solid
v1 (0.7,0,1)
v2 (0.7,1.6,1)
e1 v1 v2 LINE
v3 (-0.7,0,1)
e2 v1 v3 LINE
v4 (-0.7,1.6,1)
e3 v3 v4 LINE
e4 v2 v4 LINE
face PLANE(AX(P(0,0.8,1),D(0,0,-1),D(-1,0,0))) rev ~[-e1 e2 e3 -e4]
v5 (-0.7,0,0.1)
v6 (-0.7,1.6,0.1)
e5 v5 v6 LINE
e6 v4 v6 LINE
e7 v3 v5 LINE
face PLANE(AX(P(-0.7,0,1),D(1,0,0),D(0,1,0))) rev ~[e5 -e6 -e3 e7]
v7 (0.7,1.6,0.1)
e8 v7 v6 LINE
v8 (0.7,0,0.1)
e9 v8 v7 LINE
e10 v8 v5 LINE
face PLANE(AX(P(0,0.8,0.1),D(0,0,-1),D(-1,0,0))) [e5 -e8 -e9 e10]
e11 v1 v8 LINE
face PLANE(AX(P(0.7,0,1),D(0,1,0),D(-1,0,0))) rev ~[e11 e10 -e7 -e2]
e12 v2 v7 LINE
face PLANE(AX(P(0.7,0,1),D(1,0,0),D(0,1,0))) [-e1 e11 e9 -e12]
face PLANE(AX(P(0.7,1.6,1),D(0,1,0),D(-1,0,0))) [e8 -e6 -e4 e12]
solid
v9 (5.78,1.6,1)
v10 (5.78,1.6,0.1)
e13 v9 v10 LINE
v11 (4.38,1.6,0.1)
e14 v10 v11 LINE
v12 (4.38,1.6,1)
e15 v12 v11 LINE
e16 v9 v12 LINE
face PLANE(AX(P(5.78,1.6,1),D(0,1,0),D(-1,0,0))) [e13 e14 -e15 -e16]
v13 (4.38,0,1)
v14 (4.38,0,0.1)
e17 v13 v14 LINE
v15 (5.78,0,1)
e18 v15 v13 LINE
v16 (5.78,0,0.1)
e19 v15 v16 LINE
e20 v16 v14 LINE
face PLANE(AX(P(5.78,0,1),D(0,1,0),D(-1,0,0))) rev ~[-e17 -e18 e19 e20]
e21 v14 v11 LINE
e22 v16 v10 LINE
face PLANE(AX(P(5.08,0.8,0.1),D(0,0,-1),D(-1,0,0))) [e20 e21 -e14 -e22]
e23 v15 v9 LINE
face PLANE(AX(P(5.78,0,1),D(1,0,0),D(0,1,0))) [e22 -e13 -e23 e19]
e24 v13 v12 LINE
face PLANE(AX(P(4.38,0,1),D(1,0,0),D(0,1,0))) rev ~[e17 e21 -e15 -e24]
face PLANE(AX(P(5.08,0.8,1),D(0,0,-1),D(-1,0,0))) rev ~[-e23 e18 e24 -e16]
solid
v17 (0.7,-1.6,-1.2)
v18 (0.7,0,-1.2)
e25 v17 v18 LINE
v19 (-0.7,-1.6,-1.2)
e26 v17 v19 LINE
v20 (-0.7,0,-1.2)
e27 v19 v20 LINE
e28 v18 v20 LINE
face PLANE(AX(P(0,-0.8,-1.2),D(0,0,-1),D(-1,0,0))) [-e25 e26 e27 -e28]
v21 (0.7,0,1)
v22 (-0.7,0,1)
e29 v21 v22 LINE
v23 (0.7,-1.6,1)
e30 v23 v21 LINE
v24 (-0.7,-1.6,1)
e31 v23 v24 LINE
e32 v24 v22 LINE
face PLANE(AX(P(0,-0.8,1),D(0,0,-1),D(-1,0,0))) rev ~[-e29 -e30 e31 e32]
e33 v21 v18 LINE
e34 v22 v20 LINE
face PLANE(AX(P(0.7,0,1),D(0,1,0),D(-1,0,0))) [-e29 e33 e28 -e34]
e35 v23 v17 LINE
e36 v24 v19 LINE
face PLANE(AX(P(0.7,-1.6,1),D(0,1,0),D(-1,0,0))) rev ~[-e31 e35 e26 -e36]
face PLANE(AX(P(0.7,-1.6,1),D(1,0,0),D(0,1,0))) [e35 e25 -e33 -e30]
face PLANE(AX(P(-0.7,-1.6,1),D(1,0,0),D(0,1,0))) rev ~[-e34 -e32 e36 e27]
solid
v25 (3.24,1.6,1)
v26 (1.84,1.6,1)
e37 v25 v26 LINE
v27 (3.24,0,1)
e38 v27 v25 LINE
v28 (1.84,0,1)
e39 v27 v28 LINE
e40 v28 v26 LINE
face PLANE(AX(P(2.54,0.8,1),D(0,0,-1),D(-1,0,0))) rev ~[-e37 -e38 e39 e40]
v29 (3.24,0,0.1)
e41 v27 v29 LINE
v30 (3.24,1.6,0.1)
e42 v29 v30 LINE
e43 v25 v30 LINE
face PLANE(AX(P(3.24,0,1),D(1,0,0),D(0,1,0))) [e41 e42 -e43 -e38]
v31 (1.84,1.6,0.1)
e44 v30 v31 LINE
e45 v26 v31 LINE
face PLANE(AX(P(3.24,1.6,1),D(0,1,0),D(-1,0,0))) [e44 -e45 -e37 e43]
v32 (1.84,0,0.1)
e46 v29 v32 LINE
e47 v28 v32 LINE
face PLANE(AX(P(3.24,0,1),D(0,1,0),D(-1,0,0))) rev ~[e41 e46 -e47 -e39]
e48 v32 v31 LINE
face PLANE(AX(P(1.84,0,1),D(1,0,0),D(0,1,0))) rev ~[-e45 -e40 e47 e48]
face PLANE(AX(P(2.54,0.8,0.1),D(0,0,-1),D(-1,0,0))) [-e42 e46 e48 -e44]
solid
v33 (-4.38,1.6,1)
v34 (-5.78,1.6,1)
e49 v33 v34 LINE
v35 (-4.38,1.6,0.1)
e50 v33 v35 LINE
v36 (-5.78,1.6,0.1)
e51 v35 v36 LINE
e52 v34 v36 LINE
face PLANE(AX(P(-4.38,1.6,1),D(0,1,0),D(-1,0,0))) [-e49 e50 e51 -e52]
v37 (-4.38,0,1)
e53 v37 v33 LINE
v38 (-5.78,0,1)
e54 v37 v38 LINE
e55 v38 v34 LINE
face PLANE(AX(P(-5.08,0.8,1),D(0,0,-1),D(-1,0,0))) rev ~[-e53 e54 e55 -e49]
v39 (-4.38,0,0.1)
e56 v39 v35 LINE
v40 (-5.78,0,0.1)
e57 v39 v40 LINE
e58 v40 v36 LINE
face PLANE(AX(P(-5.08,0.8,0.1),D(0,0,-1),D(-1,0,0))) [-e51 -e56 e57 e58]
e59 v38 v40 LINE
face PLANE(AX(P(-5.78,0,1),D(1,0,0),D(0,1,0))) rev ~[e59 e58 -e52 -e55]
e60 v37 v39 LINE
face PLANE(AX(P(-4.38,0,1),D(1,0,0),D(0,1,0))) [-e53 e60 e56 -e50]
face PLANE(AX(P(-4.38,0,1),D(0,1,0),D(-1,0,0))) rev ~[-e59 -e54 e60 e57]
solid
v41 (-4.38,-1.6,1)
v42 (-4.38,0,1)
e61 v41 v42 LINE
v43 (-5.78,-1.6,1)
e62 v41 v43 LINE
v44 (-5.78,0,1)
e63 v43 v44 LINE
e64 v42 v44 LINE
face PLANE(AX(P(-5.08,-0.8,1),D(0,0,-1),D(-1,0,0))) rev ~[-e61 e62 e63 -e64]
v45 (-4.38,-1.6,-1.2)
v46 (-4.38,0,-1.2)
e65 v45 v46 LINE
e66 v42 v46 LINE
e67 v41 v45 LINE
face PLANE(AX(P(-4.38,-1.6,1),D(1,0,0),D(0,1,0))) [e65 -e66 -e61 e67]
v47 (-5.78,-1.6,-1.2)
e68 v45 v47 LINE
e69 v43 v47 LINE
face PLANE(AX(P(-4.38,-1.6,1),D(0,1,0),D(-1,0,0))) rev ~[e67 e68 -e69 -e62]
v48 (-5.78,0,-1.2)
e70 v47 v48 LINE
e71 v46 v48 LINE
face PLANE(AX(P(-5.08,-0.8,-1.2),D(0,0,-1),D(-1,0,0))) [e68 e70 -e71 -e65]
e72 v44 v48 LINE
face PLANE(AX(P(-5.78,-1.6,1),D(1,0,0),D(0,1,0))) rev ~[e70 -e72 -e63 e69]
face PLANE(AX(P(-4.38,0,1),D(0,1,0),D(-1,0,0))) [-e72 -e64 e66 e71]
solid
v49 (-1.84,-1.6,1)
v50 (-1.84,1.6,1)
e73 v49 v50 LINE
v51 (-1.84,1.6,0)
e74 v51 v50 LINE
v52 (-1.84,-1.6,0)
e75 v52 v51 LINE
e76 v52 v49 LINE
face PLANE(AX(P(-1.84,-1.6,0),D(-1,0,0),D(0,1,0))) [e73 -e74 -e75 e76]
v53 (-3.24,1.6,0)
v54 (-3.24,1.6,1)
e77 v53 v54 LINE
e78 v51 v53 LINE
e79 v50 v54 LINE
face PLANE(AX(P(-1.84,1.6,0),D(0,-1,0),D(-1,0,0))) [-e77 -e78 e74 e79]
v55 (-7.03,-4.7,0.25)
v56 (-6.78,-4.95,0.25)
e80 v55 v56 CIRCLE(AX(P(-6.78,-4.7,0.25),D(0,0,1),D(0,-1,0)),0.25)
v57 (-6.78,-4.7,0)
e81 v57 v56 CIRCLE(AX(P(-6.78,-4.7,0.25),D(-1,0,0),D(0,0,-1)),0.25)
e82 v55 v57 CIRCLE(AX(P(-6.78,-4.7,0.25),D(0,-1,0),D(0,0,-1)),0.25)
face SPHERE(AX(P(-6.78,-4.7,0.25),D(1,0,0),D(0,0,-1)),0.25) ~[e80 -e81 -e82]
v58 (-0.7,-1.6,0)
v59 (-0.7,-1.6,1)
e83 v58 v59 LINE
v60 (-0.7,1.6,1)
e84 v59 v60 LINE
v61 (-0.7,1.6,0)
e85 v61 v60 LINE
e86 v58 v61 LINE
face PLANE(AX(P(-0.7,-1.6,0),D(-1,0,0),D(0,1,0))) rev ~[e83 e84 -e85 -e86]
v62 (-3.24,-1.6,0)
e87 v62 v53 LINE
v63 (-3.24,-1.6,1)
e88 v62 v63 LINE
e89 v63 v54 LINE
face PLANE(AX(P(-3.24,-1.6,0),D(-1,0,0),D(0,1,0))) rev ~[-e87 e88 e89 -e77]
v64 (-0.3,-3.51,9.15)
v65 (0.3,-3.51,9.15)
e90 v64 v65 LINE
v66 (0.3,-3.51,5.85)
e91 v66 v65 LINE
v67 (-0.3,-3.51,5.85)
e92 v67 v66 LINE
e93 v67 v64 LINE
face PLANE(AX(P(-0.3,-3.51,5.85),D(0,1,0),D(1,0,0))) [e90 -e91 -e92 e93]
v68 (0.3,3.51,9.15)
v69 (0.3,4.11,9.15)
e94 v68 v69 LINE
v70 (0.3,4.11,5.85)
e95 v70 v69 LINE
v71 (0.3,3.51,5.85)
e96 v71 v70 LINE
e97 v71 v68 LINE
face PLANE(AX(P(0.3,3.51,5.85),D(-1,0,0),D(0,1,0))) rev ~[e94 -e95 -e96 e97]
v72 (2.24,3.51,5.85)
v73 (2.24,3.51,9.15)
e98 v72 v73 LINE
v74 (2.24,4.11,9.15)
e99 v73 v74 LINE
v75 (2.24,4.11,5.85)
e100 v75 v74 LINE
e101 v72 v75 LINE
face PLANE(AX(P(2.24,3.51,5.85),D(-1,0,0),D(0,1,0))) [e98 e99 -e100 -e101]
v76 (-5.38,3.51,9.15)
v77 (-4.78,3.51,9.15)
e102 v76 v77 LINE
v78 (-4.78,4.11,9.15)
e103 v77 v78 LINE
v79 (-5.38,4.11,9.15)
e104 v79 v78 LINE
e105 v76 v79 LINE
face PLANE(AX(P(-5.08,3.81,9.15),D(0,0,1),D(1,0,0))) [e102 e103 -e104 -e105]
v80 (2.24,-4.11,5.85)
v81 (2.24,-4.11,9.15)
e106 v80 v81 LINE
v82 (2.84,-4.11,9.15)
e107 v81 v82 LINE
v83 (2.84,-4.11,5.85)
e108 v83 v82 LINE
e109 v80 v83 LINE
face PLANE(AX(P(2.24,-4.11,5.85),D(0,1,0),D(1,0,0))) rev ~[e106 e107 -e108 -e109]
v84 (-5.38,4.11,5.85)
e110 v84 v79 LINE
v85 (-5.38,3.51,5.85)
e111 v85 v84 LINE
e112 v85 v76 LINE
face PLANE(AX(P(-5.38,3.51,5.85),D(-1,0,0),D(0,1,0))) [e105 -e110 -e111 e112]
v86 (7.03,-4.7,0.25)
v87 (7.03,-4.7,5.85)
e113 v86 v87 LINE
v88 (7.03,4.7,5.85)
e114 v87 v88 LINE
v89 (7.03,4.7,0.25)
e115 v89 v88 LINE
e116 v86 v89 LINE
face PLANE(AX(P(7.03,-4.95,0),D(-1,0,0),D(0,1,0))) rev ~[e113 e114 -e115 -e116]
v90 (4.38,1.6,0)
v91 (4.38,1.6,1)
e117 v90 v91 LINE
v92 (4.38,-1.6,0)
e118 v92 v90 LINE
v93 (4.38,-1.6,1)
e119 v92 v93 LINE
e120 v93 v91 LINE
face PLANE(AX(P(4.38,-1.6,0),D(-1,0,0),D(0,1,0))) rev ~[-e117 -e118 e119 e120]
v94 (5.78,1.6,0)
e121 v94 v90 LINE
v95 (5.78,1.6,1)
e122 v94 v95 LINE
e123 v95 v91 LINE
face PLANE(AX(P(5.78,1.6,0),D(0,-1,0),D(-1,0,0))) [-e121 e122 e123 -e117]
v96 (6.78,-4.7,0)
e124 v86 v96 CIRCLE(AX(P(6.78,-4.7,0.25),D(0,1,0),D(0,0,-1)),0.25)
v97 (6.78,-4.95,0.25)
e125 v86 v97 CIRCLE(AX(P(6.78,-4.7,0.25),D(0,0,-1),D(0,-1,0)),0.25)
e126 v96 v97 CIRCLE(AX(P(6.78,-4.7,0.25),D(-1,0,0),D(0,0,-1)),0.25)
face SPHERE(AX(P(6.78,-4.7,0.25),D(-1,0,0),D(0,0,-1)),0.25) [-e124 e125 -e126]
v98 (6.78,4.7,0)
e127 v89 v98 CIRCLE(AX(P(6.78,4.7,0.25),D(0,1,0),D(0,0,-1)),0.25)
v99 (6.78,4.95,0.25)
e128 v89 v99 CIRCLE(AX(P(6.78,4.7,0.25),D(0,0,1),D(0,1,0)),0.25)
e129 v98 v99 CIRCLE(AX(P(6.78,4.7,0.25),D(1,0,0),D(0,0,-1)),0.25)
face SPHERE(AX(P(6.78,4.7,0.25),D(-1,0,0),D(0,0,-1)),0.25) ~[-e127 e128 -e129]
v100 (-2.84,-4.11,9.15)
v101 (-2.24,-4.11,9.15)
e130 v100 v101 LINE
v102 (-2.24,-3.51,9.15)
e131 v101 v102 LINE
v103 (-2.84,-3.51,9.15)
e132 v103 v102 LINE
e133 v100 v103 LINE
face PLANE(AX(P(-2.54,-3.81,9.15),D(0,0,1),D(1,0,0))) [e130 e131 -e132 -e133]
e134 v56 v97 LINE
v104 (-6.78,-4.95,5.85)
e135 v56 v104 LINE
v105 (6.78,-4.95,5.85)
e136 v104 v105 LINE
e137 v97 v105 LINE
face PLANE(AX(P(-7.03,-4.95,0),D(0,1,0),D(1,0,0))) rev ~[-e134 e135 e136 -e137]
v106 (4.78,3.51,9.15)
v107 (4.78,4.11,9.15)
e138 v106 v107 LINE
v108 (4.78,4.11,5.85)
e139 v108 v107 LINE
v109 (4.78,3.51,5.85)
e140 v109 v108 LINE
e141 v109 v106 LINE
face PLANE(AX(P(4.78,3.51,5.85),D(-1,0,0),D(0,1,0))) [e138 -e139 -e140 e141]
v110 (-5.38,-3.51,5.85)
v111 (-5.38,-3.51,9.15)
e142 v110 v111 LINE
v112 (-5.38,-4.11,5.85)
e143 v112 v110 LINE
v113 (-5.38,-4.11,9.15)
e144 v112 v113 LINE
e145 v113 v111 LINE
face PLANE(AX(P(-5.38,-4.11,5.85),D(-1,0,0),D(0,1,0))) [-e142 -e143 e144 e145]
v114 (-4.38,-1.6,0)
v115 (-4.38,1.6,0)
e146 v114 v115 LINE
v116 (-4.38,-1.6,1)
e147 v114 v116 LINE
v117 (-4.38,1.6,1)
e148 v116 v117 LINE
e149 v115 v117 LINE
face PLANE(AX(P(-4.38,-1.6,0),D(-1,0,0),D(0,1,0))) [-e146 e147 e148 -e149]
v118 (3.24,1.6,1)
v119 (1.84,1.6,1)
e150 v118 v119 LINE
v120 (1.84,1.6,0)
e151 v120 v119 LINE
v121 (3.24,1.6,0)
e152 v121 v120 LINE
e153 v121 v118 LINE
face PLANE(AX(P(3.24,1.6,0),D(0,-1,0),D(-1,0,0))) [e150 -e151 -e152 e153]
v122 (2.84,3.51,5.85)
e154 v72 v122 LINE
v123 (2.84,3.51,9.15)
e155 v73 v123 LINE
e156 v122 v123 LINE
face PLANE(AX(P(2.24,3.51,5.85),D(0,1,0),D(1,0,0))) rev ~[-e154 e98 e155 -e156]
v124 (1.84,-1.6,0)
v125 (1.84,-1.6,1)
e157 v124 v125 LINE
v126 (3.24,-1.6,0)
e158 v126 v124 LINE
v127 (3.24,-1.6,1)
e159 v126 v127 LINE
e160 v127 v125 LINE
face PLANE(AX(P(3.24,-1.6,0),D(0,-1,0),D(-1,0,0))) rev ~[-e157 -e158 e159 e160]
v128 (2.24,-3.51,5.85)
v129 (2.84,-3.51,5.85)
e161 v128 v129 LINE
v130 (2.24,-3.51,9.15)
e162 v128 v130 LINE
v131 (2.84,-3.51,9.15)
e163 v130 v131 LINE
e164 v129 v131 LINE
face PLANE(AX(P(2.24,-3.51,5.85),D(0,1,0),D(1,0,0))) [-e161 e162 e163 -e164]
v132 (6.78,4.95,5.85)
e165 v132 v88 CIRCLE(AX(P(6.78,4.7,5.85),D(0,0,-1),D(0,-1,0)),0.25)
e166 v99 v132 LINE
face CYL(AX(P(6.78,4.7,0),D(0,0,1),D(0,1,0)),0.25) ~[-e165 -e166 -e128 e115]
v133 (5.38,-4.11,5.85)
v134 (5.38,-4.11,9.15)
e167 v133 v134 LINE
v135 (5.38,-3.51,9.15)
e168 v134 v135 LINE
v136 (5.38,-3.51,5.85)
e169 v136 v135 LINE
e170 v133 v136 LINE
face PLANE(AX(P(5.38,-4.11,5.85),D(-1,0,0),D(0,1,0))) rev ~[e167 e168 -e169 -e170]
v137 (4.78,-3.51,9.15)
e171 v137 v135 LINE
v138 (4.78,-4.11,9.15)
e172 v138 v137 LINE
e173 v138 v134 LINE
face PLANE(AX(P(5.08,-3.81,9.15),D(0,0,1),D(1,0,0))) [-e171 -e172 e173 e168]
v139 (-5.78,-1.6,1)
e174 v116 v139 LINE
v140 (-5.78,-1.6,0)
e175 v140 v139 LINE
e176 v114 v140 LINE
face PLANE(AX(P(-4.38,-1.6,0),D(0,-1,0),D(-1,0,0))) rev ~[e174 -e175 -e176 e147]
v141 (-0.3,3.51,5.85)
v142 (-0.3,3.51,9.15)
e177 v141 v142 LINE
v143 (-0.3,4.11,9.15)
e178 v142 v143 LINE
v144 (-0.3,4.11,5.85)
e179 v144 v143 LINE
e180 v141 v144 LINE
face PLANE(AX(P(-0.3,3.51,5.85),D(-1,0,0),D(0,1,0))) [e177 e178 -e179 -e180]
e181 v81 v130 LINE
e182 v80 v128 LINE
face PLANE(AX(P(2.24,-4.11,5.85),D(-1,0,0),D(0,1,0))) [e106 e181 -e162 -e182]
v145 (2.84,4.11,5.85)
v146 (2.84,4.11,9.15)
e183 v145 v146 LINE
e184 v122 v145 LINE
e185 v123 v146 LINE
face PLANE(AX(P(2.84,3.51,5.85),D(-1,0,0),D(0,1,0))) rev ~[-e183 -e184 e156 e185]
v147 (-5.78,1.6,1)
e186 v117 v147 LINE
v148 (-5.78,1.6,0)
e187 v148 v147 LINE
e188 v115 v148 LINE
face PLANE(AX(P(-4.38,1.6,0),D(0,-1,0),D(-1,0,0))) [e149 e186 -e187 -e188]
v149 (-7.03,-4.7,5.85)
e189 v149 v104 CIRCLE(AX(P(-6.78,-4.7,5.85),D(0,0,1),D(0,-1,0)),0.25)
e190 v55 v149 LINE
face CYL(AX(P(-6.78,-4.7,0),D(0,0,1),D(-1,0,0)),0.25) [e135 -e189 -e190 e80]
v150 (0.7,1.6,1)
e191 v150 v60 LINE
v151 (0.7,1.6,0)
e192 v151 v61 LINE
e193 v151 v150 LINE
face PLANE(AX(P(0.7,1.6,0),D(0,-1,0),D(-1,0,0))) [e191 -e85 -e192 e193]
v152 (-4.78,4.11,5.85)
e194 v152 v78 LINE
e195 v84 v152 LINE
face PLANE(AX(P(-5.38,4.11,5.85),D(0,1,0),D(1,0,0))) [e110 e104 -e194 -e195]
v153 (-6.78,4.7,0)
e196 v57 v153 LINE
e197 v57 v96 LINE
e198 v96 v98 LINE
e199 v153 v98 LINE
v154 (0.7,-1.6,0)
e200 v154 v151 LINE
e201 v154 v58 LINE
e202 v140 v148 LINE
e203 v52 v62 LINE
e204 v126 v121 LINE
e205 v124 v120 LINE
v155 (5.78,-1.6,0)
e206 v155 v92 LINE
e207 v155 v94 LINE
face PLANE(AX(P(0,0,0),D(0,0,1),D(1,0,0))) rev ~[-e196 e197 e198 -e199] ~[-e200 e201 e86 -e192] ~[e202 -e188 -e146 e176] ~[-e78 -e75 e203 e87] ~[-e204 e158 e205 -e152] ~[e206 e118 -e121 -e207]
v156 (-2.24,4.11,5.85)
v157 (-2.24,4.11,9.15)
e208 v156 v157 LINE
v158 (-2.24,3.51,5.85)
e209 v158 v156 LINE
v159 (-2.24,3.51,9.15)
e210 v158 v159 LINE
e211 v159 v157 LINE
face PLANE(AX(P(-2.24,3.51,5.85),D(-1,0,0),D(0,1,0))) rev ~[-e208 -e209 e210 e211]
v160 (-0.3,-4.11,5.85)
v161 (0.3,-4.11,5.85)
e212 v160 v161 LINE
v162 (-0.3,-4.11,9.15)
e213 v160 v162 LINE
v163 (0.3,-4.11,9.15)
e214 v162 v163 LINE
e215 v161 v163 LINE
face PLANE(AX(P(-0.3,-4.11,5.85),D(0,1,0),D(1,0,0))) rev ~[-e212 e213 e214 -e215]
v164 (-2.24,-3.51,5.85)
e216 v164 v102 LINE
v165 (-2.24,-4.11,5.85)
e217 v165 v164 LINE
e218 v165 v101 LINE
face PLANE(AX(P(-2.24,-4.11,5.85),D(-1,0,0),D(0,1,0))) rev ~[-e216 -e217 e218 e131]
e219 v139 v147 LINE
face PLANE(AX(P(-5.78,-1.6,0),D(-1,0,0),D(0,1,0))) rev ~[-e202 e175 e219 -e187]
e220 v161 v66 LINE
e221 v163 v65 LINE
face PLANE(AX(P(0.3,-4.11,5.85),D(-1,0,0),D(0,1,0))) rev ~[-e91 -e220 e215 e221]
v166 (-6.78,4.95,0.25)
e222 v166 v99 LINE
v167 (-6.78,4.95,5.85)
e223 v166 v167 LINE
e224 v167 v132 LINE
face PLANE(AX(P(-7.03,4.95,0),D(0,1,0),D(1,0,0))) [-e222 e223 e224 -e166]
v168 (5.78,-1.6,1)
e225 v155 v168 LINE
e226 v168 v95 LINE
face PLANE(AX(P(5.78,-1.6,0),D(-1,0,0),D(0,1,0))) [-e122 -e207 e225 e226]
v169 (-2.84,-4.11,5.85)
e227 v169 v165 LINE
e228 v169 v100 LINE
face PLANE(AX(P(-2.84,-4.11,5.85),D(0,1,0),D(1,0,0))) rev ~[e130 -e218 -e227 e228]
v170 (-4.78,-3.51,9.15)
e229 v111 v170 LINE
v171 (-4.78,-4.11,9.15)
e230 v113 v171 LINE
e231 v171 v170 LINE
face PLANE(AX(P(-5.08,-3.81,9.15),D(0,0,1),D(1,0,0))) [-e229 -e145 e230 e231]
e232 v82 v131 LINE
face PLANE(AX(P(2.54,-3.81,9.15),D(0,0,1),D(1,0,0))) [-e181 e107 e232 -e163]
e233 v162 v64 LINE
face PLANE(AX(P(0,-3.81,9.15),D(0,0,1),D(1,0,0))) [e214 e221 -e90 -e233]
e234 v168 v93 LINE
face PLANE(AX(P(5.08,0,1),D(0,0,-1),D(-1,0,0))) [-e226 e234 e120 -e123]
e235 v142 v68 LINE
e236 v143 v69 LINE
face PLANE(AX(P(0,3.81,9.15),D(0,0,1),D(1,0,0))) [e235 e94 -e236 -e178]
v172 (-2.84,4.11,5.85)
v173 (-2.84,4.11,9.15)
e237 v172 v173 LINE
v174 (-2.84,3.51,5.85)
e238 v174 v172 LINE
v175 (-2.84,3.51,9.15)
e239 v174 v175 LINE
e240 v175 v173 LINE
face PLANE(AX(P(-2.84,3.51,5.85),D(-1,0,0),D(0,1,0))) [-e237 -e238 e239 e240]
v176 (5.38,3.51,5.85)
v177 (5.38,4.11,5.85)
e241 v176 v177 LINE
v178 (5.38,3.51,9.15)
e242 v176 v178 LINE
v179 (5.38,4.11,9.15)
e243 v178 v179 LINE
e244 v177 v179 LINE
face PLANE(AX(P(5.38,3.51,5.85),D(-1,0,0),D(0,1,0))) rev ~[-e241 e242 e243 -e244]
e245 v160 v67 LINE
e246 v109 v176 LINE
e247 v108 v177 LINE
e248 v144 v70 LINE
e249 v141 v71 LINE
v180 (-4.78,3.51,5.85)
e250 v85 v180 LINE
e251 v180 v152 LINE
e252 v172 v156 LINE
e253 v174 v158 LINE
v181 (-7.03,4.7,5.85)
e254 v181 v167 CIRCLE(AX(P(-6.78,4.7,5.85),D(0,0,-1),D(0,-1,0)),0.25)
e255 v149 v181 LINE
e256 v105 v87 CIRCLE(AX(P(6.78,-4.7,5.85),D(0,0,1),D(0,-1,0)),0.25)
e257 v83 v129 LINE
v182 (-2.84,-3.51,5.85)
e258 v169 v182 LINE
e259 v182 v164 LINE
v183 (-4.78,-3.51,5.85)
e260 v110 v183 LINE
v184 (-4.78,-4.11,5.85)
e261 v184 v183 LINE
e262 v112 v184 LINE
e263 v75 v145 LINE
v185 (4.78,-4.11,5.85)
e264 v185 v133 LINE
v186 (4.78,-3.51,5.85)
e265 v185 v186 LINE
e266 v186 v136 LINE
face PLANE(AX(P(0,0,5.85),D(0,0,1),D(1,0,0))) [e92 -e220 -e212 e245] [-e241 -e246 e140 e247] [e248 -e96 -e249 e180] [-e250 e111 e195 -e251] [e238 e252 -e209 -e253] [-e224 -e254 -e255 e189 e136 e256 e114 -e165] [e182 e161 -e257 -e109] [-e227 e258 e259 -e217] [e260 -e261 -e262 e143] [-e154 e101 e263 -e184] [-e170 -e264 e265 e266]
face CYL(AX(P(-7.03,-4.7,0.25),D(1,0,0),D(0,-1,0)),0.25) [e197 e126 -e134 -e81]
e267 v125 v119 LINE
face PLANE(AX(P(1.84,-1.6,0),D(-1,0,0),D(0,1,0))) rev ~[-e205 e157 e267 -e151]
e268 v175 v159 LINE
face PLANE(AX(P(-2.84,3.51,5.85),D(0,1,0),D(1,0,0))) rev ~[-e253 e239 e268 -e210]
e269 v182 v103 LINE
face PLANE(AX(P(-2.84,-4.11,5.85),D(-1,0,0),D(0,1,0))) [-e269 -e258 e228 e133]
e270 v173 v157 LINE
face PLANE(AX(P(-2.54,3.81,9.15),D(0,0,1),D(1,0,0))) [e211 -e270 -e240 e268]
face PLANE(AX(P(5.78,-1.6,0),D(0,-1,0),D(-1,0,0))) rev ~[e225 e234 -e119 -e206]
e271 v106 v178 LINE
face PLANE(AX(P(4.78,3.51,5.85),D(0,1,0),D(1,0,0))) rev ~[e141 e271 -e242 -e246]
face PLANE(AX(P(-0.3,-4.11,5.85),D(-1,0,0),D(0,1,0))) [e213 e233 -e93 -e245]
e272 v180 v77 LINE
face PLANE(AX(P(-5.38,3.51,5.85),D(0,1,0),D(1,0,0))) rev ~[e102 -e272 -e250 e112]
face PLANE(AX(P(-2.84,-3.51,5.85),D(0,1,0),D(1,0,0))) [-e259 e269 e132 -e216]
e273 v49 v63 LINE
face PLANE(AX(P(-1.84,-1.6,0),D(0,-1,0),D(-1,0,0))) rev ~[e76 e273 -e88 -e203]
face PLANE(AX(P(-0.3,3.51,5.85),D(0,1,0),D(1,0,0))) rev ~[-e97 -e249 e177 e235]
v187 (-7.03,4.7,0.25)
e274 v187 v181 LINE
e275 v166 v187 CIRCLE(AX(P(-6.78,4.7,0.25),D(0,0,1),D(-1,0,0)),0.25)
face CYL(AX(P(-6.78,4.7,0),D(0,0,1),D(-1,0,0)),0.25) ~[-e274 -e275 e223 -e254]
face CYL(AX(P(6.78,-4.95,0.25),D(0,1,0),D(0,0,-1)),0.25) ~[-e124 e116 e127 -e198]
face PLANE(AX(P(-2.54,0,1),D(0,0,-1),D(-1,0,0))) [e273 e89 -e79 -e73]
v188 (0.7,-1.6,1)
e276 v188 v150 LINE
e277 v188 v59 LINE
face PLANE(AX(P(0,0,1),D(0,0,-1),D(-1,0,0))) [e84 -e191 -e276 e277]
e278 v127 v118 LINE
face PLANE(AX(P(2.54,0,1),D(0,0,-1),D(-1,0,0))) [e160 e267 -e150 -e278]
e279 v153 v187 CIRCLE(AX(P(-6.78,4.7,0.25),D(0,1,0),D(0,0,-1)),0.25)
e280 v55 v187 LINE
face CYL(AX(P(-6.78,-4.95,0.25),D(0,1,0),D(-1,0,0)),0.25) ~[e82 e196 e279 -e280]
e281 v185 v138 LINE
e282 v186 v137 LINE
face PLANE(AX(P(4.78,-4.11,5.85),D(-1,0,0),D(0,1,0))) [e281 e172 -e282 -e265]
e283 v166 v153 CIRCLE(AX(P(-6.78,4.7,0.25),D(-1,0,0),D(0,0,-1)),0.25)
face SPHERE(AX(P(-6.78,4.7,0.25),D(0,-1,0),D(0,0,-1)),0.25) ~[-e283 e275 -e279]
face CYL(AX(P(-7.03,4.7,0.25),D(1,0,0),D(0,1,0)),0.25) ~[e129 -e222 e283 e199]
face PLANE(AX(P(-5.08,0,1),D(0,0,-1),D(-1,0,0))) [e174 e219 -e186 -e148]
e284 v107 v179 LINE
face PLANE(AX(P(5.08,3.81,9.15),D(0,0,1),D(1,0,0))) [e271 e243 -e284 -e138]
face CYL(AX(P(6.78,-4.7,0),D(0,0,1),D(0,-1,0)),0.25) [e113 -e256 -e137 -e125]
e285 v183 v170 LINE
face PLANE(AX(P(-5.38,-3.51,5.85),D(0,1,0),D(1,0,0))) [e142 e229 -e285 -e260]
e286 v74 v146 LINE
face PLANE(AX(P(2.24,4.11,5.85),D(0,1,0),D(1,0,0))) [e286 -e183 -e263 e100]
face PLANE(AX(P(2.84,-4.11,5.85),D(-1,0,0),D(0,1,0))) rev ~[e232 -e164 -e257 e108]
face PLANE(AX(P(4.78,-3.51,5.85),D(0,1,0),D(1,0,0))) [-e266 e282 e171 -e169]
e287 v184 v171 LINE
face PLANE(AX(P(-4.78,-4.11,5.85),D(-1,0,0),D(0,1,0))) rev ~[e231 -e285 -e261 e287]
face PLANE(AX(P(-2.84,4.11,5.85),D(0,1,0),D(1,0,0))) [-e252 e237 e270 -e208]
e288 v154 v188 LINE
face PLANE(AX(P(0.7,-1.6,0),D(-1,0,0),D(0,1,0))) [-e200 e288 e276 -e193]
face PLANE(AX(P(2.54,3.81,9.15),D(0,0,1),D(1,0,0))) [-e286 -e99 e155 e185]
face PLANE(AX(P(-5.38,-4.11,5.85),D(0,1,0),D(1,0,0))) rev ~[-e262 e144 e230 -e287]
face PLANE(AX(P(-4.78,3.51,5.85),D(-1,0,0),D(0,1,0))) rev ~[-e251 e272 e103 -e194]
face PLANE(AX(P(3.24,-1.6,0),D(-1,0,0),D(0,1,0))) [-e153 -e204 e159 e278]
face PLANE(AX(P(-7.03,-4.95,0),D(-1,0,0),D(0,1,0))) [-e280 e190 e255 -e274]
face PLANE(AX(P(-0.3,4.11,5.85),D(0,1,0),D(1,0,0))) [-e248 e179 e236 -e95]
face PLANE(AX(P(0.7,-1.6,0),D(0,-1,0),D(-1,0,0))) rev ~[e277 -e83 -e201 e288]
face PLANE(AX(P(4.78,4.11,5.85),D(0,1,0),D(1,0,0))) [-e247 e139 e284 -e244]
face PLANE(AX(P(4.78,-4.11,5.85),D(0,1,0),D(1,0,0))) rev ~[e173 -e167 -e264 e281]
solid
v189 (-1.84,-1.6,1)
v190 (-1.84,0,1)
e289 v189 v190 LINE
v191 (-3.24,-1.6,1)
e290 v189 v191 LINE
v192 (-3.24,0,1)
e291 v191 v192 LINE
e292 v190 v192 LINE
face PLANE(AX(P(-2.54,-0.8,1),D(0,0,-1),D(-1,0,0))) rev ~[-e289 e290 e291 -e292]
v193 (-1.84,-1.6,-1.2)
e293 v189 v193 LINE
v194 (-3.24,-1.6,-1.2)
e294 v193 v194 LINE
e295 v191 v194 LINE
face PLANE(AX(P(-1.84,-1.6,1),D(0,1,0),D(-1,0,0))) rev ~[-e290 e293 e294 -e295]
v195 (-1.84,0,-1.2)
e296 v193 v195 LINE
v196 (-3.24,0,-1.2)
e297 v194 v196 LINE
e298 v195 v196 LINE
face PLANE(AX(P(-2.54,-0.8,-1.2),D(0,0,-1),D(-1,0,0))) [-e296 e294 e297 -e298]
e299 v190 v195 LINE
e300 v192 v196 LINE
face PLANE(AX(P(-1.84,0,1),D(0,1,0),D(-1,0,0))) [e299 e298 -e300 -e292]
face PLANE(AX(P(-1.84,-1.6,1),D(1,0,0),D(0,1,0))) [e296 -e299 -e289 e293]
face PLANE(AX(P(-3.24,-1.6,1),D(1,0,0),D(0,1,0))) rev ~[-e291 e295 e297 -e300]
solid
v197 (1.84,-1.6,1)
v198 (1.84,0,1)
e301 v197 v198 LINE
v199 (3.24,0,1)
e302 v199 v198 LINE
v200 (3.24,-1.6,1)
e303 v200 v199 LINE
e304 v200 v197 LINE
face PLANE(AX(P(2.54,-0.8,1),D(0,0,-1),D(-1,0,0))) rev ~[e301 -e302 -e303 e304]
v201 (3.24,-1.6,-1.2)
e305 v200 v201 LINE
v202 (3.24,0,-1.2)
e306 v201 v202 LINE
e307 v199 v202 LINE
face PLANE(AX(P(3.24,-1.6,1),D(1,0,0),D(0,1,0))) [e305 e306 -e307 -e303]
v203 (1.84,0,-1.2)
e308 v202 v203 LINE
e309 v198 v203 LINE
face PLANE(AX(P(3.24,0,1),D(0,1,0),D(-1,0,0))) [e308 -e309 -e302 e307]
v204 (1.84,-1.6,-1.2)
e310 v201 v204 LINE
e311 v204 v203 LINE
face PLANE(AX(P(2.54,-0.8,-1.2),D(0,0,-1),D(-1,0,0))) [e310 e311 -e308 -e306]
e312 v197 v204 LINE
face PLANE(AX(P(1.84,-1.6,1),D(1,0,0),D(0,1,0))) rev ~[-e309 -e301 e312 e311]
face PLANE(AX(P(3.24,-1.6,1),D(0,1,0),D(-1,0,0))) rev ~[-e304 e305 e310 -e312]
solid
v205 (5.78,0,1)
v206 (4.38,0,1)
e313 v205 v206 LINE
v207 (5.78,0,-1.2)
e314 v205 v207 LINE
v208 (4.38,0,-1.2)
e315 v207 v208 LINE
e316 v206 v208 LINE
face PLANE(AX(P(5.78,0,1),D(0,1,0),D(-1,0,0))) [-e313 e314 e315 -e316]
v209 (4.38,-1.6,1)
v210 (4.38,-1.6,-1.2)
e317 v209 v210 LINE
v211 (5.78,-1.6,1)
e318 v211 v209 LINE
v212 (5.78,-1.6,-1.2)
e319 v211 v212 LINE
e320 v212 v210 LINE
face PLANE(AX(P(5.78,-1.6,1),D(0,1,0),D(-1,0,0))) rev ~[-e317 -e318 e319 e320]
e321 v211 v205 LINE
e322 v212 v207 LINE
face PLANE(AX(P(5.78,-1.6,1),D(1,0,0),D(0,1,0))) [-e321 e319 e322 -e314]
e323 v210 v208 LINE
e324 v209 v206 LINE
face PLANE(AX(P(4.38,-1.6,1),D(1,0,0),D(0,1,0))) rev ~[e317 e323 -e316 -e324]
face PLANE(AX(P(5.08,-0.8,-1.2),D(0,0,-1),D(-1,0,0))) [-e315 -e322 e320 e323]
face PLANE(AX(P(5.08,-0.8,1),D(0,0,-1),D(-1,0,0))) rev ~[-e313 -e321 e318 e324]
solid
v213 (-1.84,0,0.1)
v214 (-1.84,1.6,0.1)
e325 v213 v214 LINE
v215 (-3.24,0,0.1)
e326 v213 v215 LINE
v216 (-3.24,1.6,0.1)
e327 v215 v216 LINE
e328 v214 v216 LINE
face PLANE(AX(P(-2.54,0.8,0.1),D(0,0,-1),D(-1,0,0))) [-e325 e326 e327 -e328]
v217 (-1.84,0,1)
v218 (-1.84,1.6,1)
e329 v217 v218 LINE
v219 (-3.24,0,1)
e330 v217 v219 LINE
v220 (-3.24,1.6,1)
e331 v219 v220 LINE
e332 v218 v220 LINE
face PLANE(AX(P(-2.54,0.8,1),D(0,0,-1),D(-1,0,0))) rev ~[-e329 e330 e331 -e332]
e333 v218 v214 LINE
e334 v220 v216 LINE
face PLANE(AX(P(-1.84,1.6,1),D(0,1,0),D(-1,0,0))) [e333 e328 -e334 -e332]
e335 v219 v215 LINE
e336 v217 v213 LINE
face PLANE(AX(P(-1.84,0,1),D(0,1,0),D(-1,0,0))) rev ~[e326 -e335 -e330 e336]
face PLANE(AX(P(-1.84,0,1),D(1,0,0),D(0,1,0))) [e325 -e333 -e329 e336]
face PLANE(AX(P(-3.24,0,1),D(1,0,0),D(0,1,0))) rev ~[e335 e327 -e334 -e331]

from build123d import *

# Parameters (mm, degrees)
IZIM1_W                       = 14.06
IZIM1_H                       = 9.9
Y_KSEKLIK_EKSTR_ZYON1_DEPTH   = 5.85
IZIM2_W                       = 1.4
IZIM2_H                       = 3.2
KES_EKSTR_ZYON1_DEPTH         = 1
IZIM3_W                       = 1.4
IZIM3_H                       = 1.6
Y_KSEKLIK_EKSTR_ZYON2_DEPTH   = 2.2
Y_KSEKLIK_EKSTR_ZYON2_2_DEPTH = 2.2
Y_KSEKLIK_EKSTR_ZYON2_3_DEPTH = 2.2
Y_KSEKLIK_EKSTR_ZYON2_4_DEPTH = 2.2
Y_KSEKLIK_EKSTR_ZYON2_5_DEPTH = 2.2
IZIM4_W                       = 1.4
IZIM4_H                       = 1.6
Y_KSEKLIK_EKSTR_ZYON3_DEPTH   = 0.9
Y_KSEKLIK_EKSTR_ZYON3_2_DEPTH = 0.9
Y_KSEKLIK_EKSTR_ZYON3_3_DEPTH = 0.9
Y_KSEKLIK_EKSTR_ZYON3_4_DEPTH = 0.9
Y_KSEKLIK_EKSTR_ZYON3_5_DEPTH = 0.9
RADYUS1_R                     = 0.25
IZIM5_W                       = 0.6
IZIM5_H                       = 0.6
Y_KSEKLIK_EKSTR_ZYON4_DEPTH   = 3.3


with BuildPart() as part:
    # Çizim1 → Yükseklik-Ekstrüzyon1 (new body)
    with BuildSketch(Plane.XY):
        Rectangle(IZIM1_W, IZIM1_H)
    extrude(amount=Y_KSEKLIK_EKSTR_ZYON1_DEPTH)

    # Çizim2 → Kes-Ekstrüzyon1 (cut)
    with BuildSketch(Plane(origin=(0, 0, 0), x_dir=(-1, 0, 0), z_dir=(0, 0, -1))):
        with Locations((-5.08, 0)):
            Rectangle(IZIM2_W, IZIM2_H)
        with Locations((-2.54, 0)):
            Rectangle(IZIM2_W, IZIM2_H)
        Rectangle(IZIM2_W, IZIM2_H)
        with Locations((2.54, 0)):
            Rectangle(IZIM2_W, IZIM2_H)
        with Locations((5.08, 0)):
            Rectangle(IZIM2_W, IZIM2_H)
    extrude(amount=-KES_EKSTR_ZYON1_DEPTH, mode=Mode.SUBTRACT)

    # Radyus1
    radyus1_edges = [part.edges().sort_by_distance(p)[0] for p in [
        (0, -4.95, 0),
        (-7.03, 0, 0),
        (0, 4.95, 0),
        (7.03, 0, 0),
        (7.03, -4.95, 2.925),
        (-7.03, -4.95, 2.925),
        (-7.03, 4.95, 2.925),
        (7.03, 4.95, 2.925),
    ]]
    fillet(radyus1_edges, radius=RADYUS1_R)

    # Çizim5 → Yükseklik-Ekstrüzyon4 (add)
    with BuildSketch(Plane.XY.offset(5.85)):
        with Locations((-5.08, -3.81)):
            Rectangle(IZIM5_W, IZIM5_H)
        with Locations((-5.08, 3.81)):
            Rectangle(IZIM5_W, IZIM5_H)
        with Locations((-2.54, -3.81)):
            Rectangle(IZIM5_W, IZIM5_H)
        with Locations((-2.54, 3.81)):
            Rectangle(IZIM5_W, IZIM5_H)
        with Locations((0, 3.81)):
            Rectangle(IZIM5_W, IZIM5_H)
        with Locations((0, -3.81)):
            Rectangle(IZIM5_W, IZIM5_H)
        with Locations((2.54, -3.81)):
            Rectangle(IZIM5_W, IZIM5_H)
        with Locations((2.54, 3.81)):
            Rectangle(IZIM5_W, IZIM5_H)
        with Locations((5.08, -3.81)):
            Rectangle(IZIM5_W, IZIM5_H)
        with Locations((5.08, 3.81)):
            Rectangle(IZIM5_W, IZIM5_H)
    extrude(amount=Y_KSEKLIK_EKSTR_ZYON4_DEPTH)


with BuildPart() as body_2:
    # Çizim3 → Yükseklik-Ekstrüzyon2 (new body)
    with BuildSketch(Plane(origin=(0, 0, 1), x_dir=(-1, 0, 0), z_dir=(0, 0, -1))):
        with Locations((-5.08, -0.8)):
            Rectangle(IZIM3_W, IZIM3_H)
    extrude(amount=Y_KSEKLIK_EKSTR_ZYON2_DEPTH)


with BuildPart() as body_3:
    # Çizim3 → Y_kseklik-Ekstr_zyon2 2 (new body)
    with BuildSketch(Plane(origin=(0, 0, 1), x_dir=(-1, 0, 0), z_dir=(0, 0, -1))):
        with Locations((-2.54, -0.8)):
            Rectangle(IZIM3_W, IZIM3_H)
    extrude(amount=Y_KSEKLIK_EKSTR_ZYON2_2_DEPTH)


with BuildPart() as body_4:
    # Çizim3 → Y_kseklik-Ekstr_zyon2 3 (new body)
    with BuildSketch(Plane(origin=(0, 0, 1), x_dir=(-1, 0, 0), z_dir=(0, 0, -1))):
        with Locations((0, -0.8)):
            Rectangle(IZIM3_W, IZIM3_H)
    extrude(amount=Y_KSEKLIK_EKSTR_ZYON2_3_DEPTH)


with BuildPart() as body_5:
    # Çizim3 → Y_kseklik-Ekstr_zyon2 4 (new body)
    with BuildSketch(Plane(origin=(0, 0, 1), x_dir=(-1, 0, 0), z_dir=(0, 0, -1))):
        with Locations((2.54, -0.8)):
            Rectangle(IZIM3_W, IZIM3_H)
    extrude(amount=Y_KSEKLIK_EKSTR_ZYON2_4_DEPTH)


with BuildPart() as body_6:
    # Çizim3 → Y_kseklik-Ekstr_zyon2 5 (new body)
    with BuildSketch(Plane(origin=(0, 0, 1), x_dir=(-1, 0, 0), z_dir=(0, 0, -1))):
        with Locations((5.08, -0.8)):
            Rectangle(IZIM3_W, IZIM3_H)
    extrude(amount=Y_KSEKLIK_EKSTR_ZYON2_5_DEPTH)


with BuildPart() as body_7:
    # Çizim4 → Yükseklik-Ekstrüzyon3 (new body)
    with BuildSketch(Plane(origin=(0, 0, 1), x_dir=(-1, 0, 0), z_dir=(0, 0, -1))):
        with Locations((-5.08, 0.8)):
            Rectangle(IZIM4_W, IZIM4_H)
    extrude(amount=Y_KSEKLIK_EKSTR_ZYON3_DEPTH)


with BuildPart() as body_8:
    # Çizim4 → Y_kseklik-Ekstr_zyon3 2 (new body)
    with BuildSketch(Plane(origin=(0, 0, 1), x_dir=(-1, 0, 0), z_dir=(0, 0, -1))):
        with Locations((-2.54, 0.8)):
            Rectangle(IZIM4_W, IZIM4_H)
    extrude(amount=Y_KSEKLIK_EKSTR_ZYON3_2_DEPTH)


with BuildPart() as body_9:
    # Çizim4 → Y_kseklik-Ekstr_zyon3 3 (new body)
    with BuildSketch(Plane(origin=(0, 0, 1), x_dir=(-1, 0, 0), z_dir=(0, 0, -1))):
        with Locations((0, 0.8)):
            Rectangle(IZIM4_W, IZIM4_H)
    extrude(amount=Y_KSEKLIK_EKSTR_ZYON3_3_DEPTH)


with BuildPart() as body_10:
    # Çizim4 → Y_kseklik-Ekstr_zyon3 4 (new body)
    with BuildSketch(Plane(origin=(0, 0, 1), x_dir=(-1, 0, 0), z_dir=(0, 0, -1))):
        with Locations((2.54, 0.8)):
            Rectangle(IZIM4_W, IZIM4_H)
    extrude(amount=Y_KSEKLIK_EKSTR_ZYON3_4_DEPTH)


with BuildPart() as body_11:
    # Çizim4 → Y_kseklik-Ekstr_zyon3 5 (new body)
    with BuildSketch(Plane(origin=(0, 0, 1), x_dir=(-1, 0, 0), z_dir=(0, 0, -1))):
        with Locations((5.08, 0.8)):
            Rectangle(IZIM4_W, IZIM4_H)
    extrude(amount=Y_KSEKLIK_EKSTR_ZYON3_5_DEPTH)


solid = Compound([part.part, body_2.part, body_3.part, body_4.part, body_5.part, body_6.part, body_7.part, body_8.part, body_9.part, body_10.part, body_11.part])
